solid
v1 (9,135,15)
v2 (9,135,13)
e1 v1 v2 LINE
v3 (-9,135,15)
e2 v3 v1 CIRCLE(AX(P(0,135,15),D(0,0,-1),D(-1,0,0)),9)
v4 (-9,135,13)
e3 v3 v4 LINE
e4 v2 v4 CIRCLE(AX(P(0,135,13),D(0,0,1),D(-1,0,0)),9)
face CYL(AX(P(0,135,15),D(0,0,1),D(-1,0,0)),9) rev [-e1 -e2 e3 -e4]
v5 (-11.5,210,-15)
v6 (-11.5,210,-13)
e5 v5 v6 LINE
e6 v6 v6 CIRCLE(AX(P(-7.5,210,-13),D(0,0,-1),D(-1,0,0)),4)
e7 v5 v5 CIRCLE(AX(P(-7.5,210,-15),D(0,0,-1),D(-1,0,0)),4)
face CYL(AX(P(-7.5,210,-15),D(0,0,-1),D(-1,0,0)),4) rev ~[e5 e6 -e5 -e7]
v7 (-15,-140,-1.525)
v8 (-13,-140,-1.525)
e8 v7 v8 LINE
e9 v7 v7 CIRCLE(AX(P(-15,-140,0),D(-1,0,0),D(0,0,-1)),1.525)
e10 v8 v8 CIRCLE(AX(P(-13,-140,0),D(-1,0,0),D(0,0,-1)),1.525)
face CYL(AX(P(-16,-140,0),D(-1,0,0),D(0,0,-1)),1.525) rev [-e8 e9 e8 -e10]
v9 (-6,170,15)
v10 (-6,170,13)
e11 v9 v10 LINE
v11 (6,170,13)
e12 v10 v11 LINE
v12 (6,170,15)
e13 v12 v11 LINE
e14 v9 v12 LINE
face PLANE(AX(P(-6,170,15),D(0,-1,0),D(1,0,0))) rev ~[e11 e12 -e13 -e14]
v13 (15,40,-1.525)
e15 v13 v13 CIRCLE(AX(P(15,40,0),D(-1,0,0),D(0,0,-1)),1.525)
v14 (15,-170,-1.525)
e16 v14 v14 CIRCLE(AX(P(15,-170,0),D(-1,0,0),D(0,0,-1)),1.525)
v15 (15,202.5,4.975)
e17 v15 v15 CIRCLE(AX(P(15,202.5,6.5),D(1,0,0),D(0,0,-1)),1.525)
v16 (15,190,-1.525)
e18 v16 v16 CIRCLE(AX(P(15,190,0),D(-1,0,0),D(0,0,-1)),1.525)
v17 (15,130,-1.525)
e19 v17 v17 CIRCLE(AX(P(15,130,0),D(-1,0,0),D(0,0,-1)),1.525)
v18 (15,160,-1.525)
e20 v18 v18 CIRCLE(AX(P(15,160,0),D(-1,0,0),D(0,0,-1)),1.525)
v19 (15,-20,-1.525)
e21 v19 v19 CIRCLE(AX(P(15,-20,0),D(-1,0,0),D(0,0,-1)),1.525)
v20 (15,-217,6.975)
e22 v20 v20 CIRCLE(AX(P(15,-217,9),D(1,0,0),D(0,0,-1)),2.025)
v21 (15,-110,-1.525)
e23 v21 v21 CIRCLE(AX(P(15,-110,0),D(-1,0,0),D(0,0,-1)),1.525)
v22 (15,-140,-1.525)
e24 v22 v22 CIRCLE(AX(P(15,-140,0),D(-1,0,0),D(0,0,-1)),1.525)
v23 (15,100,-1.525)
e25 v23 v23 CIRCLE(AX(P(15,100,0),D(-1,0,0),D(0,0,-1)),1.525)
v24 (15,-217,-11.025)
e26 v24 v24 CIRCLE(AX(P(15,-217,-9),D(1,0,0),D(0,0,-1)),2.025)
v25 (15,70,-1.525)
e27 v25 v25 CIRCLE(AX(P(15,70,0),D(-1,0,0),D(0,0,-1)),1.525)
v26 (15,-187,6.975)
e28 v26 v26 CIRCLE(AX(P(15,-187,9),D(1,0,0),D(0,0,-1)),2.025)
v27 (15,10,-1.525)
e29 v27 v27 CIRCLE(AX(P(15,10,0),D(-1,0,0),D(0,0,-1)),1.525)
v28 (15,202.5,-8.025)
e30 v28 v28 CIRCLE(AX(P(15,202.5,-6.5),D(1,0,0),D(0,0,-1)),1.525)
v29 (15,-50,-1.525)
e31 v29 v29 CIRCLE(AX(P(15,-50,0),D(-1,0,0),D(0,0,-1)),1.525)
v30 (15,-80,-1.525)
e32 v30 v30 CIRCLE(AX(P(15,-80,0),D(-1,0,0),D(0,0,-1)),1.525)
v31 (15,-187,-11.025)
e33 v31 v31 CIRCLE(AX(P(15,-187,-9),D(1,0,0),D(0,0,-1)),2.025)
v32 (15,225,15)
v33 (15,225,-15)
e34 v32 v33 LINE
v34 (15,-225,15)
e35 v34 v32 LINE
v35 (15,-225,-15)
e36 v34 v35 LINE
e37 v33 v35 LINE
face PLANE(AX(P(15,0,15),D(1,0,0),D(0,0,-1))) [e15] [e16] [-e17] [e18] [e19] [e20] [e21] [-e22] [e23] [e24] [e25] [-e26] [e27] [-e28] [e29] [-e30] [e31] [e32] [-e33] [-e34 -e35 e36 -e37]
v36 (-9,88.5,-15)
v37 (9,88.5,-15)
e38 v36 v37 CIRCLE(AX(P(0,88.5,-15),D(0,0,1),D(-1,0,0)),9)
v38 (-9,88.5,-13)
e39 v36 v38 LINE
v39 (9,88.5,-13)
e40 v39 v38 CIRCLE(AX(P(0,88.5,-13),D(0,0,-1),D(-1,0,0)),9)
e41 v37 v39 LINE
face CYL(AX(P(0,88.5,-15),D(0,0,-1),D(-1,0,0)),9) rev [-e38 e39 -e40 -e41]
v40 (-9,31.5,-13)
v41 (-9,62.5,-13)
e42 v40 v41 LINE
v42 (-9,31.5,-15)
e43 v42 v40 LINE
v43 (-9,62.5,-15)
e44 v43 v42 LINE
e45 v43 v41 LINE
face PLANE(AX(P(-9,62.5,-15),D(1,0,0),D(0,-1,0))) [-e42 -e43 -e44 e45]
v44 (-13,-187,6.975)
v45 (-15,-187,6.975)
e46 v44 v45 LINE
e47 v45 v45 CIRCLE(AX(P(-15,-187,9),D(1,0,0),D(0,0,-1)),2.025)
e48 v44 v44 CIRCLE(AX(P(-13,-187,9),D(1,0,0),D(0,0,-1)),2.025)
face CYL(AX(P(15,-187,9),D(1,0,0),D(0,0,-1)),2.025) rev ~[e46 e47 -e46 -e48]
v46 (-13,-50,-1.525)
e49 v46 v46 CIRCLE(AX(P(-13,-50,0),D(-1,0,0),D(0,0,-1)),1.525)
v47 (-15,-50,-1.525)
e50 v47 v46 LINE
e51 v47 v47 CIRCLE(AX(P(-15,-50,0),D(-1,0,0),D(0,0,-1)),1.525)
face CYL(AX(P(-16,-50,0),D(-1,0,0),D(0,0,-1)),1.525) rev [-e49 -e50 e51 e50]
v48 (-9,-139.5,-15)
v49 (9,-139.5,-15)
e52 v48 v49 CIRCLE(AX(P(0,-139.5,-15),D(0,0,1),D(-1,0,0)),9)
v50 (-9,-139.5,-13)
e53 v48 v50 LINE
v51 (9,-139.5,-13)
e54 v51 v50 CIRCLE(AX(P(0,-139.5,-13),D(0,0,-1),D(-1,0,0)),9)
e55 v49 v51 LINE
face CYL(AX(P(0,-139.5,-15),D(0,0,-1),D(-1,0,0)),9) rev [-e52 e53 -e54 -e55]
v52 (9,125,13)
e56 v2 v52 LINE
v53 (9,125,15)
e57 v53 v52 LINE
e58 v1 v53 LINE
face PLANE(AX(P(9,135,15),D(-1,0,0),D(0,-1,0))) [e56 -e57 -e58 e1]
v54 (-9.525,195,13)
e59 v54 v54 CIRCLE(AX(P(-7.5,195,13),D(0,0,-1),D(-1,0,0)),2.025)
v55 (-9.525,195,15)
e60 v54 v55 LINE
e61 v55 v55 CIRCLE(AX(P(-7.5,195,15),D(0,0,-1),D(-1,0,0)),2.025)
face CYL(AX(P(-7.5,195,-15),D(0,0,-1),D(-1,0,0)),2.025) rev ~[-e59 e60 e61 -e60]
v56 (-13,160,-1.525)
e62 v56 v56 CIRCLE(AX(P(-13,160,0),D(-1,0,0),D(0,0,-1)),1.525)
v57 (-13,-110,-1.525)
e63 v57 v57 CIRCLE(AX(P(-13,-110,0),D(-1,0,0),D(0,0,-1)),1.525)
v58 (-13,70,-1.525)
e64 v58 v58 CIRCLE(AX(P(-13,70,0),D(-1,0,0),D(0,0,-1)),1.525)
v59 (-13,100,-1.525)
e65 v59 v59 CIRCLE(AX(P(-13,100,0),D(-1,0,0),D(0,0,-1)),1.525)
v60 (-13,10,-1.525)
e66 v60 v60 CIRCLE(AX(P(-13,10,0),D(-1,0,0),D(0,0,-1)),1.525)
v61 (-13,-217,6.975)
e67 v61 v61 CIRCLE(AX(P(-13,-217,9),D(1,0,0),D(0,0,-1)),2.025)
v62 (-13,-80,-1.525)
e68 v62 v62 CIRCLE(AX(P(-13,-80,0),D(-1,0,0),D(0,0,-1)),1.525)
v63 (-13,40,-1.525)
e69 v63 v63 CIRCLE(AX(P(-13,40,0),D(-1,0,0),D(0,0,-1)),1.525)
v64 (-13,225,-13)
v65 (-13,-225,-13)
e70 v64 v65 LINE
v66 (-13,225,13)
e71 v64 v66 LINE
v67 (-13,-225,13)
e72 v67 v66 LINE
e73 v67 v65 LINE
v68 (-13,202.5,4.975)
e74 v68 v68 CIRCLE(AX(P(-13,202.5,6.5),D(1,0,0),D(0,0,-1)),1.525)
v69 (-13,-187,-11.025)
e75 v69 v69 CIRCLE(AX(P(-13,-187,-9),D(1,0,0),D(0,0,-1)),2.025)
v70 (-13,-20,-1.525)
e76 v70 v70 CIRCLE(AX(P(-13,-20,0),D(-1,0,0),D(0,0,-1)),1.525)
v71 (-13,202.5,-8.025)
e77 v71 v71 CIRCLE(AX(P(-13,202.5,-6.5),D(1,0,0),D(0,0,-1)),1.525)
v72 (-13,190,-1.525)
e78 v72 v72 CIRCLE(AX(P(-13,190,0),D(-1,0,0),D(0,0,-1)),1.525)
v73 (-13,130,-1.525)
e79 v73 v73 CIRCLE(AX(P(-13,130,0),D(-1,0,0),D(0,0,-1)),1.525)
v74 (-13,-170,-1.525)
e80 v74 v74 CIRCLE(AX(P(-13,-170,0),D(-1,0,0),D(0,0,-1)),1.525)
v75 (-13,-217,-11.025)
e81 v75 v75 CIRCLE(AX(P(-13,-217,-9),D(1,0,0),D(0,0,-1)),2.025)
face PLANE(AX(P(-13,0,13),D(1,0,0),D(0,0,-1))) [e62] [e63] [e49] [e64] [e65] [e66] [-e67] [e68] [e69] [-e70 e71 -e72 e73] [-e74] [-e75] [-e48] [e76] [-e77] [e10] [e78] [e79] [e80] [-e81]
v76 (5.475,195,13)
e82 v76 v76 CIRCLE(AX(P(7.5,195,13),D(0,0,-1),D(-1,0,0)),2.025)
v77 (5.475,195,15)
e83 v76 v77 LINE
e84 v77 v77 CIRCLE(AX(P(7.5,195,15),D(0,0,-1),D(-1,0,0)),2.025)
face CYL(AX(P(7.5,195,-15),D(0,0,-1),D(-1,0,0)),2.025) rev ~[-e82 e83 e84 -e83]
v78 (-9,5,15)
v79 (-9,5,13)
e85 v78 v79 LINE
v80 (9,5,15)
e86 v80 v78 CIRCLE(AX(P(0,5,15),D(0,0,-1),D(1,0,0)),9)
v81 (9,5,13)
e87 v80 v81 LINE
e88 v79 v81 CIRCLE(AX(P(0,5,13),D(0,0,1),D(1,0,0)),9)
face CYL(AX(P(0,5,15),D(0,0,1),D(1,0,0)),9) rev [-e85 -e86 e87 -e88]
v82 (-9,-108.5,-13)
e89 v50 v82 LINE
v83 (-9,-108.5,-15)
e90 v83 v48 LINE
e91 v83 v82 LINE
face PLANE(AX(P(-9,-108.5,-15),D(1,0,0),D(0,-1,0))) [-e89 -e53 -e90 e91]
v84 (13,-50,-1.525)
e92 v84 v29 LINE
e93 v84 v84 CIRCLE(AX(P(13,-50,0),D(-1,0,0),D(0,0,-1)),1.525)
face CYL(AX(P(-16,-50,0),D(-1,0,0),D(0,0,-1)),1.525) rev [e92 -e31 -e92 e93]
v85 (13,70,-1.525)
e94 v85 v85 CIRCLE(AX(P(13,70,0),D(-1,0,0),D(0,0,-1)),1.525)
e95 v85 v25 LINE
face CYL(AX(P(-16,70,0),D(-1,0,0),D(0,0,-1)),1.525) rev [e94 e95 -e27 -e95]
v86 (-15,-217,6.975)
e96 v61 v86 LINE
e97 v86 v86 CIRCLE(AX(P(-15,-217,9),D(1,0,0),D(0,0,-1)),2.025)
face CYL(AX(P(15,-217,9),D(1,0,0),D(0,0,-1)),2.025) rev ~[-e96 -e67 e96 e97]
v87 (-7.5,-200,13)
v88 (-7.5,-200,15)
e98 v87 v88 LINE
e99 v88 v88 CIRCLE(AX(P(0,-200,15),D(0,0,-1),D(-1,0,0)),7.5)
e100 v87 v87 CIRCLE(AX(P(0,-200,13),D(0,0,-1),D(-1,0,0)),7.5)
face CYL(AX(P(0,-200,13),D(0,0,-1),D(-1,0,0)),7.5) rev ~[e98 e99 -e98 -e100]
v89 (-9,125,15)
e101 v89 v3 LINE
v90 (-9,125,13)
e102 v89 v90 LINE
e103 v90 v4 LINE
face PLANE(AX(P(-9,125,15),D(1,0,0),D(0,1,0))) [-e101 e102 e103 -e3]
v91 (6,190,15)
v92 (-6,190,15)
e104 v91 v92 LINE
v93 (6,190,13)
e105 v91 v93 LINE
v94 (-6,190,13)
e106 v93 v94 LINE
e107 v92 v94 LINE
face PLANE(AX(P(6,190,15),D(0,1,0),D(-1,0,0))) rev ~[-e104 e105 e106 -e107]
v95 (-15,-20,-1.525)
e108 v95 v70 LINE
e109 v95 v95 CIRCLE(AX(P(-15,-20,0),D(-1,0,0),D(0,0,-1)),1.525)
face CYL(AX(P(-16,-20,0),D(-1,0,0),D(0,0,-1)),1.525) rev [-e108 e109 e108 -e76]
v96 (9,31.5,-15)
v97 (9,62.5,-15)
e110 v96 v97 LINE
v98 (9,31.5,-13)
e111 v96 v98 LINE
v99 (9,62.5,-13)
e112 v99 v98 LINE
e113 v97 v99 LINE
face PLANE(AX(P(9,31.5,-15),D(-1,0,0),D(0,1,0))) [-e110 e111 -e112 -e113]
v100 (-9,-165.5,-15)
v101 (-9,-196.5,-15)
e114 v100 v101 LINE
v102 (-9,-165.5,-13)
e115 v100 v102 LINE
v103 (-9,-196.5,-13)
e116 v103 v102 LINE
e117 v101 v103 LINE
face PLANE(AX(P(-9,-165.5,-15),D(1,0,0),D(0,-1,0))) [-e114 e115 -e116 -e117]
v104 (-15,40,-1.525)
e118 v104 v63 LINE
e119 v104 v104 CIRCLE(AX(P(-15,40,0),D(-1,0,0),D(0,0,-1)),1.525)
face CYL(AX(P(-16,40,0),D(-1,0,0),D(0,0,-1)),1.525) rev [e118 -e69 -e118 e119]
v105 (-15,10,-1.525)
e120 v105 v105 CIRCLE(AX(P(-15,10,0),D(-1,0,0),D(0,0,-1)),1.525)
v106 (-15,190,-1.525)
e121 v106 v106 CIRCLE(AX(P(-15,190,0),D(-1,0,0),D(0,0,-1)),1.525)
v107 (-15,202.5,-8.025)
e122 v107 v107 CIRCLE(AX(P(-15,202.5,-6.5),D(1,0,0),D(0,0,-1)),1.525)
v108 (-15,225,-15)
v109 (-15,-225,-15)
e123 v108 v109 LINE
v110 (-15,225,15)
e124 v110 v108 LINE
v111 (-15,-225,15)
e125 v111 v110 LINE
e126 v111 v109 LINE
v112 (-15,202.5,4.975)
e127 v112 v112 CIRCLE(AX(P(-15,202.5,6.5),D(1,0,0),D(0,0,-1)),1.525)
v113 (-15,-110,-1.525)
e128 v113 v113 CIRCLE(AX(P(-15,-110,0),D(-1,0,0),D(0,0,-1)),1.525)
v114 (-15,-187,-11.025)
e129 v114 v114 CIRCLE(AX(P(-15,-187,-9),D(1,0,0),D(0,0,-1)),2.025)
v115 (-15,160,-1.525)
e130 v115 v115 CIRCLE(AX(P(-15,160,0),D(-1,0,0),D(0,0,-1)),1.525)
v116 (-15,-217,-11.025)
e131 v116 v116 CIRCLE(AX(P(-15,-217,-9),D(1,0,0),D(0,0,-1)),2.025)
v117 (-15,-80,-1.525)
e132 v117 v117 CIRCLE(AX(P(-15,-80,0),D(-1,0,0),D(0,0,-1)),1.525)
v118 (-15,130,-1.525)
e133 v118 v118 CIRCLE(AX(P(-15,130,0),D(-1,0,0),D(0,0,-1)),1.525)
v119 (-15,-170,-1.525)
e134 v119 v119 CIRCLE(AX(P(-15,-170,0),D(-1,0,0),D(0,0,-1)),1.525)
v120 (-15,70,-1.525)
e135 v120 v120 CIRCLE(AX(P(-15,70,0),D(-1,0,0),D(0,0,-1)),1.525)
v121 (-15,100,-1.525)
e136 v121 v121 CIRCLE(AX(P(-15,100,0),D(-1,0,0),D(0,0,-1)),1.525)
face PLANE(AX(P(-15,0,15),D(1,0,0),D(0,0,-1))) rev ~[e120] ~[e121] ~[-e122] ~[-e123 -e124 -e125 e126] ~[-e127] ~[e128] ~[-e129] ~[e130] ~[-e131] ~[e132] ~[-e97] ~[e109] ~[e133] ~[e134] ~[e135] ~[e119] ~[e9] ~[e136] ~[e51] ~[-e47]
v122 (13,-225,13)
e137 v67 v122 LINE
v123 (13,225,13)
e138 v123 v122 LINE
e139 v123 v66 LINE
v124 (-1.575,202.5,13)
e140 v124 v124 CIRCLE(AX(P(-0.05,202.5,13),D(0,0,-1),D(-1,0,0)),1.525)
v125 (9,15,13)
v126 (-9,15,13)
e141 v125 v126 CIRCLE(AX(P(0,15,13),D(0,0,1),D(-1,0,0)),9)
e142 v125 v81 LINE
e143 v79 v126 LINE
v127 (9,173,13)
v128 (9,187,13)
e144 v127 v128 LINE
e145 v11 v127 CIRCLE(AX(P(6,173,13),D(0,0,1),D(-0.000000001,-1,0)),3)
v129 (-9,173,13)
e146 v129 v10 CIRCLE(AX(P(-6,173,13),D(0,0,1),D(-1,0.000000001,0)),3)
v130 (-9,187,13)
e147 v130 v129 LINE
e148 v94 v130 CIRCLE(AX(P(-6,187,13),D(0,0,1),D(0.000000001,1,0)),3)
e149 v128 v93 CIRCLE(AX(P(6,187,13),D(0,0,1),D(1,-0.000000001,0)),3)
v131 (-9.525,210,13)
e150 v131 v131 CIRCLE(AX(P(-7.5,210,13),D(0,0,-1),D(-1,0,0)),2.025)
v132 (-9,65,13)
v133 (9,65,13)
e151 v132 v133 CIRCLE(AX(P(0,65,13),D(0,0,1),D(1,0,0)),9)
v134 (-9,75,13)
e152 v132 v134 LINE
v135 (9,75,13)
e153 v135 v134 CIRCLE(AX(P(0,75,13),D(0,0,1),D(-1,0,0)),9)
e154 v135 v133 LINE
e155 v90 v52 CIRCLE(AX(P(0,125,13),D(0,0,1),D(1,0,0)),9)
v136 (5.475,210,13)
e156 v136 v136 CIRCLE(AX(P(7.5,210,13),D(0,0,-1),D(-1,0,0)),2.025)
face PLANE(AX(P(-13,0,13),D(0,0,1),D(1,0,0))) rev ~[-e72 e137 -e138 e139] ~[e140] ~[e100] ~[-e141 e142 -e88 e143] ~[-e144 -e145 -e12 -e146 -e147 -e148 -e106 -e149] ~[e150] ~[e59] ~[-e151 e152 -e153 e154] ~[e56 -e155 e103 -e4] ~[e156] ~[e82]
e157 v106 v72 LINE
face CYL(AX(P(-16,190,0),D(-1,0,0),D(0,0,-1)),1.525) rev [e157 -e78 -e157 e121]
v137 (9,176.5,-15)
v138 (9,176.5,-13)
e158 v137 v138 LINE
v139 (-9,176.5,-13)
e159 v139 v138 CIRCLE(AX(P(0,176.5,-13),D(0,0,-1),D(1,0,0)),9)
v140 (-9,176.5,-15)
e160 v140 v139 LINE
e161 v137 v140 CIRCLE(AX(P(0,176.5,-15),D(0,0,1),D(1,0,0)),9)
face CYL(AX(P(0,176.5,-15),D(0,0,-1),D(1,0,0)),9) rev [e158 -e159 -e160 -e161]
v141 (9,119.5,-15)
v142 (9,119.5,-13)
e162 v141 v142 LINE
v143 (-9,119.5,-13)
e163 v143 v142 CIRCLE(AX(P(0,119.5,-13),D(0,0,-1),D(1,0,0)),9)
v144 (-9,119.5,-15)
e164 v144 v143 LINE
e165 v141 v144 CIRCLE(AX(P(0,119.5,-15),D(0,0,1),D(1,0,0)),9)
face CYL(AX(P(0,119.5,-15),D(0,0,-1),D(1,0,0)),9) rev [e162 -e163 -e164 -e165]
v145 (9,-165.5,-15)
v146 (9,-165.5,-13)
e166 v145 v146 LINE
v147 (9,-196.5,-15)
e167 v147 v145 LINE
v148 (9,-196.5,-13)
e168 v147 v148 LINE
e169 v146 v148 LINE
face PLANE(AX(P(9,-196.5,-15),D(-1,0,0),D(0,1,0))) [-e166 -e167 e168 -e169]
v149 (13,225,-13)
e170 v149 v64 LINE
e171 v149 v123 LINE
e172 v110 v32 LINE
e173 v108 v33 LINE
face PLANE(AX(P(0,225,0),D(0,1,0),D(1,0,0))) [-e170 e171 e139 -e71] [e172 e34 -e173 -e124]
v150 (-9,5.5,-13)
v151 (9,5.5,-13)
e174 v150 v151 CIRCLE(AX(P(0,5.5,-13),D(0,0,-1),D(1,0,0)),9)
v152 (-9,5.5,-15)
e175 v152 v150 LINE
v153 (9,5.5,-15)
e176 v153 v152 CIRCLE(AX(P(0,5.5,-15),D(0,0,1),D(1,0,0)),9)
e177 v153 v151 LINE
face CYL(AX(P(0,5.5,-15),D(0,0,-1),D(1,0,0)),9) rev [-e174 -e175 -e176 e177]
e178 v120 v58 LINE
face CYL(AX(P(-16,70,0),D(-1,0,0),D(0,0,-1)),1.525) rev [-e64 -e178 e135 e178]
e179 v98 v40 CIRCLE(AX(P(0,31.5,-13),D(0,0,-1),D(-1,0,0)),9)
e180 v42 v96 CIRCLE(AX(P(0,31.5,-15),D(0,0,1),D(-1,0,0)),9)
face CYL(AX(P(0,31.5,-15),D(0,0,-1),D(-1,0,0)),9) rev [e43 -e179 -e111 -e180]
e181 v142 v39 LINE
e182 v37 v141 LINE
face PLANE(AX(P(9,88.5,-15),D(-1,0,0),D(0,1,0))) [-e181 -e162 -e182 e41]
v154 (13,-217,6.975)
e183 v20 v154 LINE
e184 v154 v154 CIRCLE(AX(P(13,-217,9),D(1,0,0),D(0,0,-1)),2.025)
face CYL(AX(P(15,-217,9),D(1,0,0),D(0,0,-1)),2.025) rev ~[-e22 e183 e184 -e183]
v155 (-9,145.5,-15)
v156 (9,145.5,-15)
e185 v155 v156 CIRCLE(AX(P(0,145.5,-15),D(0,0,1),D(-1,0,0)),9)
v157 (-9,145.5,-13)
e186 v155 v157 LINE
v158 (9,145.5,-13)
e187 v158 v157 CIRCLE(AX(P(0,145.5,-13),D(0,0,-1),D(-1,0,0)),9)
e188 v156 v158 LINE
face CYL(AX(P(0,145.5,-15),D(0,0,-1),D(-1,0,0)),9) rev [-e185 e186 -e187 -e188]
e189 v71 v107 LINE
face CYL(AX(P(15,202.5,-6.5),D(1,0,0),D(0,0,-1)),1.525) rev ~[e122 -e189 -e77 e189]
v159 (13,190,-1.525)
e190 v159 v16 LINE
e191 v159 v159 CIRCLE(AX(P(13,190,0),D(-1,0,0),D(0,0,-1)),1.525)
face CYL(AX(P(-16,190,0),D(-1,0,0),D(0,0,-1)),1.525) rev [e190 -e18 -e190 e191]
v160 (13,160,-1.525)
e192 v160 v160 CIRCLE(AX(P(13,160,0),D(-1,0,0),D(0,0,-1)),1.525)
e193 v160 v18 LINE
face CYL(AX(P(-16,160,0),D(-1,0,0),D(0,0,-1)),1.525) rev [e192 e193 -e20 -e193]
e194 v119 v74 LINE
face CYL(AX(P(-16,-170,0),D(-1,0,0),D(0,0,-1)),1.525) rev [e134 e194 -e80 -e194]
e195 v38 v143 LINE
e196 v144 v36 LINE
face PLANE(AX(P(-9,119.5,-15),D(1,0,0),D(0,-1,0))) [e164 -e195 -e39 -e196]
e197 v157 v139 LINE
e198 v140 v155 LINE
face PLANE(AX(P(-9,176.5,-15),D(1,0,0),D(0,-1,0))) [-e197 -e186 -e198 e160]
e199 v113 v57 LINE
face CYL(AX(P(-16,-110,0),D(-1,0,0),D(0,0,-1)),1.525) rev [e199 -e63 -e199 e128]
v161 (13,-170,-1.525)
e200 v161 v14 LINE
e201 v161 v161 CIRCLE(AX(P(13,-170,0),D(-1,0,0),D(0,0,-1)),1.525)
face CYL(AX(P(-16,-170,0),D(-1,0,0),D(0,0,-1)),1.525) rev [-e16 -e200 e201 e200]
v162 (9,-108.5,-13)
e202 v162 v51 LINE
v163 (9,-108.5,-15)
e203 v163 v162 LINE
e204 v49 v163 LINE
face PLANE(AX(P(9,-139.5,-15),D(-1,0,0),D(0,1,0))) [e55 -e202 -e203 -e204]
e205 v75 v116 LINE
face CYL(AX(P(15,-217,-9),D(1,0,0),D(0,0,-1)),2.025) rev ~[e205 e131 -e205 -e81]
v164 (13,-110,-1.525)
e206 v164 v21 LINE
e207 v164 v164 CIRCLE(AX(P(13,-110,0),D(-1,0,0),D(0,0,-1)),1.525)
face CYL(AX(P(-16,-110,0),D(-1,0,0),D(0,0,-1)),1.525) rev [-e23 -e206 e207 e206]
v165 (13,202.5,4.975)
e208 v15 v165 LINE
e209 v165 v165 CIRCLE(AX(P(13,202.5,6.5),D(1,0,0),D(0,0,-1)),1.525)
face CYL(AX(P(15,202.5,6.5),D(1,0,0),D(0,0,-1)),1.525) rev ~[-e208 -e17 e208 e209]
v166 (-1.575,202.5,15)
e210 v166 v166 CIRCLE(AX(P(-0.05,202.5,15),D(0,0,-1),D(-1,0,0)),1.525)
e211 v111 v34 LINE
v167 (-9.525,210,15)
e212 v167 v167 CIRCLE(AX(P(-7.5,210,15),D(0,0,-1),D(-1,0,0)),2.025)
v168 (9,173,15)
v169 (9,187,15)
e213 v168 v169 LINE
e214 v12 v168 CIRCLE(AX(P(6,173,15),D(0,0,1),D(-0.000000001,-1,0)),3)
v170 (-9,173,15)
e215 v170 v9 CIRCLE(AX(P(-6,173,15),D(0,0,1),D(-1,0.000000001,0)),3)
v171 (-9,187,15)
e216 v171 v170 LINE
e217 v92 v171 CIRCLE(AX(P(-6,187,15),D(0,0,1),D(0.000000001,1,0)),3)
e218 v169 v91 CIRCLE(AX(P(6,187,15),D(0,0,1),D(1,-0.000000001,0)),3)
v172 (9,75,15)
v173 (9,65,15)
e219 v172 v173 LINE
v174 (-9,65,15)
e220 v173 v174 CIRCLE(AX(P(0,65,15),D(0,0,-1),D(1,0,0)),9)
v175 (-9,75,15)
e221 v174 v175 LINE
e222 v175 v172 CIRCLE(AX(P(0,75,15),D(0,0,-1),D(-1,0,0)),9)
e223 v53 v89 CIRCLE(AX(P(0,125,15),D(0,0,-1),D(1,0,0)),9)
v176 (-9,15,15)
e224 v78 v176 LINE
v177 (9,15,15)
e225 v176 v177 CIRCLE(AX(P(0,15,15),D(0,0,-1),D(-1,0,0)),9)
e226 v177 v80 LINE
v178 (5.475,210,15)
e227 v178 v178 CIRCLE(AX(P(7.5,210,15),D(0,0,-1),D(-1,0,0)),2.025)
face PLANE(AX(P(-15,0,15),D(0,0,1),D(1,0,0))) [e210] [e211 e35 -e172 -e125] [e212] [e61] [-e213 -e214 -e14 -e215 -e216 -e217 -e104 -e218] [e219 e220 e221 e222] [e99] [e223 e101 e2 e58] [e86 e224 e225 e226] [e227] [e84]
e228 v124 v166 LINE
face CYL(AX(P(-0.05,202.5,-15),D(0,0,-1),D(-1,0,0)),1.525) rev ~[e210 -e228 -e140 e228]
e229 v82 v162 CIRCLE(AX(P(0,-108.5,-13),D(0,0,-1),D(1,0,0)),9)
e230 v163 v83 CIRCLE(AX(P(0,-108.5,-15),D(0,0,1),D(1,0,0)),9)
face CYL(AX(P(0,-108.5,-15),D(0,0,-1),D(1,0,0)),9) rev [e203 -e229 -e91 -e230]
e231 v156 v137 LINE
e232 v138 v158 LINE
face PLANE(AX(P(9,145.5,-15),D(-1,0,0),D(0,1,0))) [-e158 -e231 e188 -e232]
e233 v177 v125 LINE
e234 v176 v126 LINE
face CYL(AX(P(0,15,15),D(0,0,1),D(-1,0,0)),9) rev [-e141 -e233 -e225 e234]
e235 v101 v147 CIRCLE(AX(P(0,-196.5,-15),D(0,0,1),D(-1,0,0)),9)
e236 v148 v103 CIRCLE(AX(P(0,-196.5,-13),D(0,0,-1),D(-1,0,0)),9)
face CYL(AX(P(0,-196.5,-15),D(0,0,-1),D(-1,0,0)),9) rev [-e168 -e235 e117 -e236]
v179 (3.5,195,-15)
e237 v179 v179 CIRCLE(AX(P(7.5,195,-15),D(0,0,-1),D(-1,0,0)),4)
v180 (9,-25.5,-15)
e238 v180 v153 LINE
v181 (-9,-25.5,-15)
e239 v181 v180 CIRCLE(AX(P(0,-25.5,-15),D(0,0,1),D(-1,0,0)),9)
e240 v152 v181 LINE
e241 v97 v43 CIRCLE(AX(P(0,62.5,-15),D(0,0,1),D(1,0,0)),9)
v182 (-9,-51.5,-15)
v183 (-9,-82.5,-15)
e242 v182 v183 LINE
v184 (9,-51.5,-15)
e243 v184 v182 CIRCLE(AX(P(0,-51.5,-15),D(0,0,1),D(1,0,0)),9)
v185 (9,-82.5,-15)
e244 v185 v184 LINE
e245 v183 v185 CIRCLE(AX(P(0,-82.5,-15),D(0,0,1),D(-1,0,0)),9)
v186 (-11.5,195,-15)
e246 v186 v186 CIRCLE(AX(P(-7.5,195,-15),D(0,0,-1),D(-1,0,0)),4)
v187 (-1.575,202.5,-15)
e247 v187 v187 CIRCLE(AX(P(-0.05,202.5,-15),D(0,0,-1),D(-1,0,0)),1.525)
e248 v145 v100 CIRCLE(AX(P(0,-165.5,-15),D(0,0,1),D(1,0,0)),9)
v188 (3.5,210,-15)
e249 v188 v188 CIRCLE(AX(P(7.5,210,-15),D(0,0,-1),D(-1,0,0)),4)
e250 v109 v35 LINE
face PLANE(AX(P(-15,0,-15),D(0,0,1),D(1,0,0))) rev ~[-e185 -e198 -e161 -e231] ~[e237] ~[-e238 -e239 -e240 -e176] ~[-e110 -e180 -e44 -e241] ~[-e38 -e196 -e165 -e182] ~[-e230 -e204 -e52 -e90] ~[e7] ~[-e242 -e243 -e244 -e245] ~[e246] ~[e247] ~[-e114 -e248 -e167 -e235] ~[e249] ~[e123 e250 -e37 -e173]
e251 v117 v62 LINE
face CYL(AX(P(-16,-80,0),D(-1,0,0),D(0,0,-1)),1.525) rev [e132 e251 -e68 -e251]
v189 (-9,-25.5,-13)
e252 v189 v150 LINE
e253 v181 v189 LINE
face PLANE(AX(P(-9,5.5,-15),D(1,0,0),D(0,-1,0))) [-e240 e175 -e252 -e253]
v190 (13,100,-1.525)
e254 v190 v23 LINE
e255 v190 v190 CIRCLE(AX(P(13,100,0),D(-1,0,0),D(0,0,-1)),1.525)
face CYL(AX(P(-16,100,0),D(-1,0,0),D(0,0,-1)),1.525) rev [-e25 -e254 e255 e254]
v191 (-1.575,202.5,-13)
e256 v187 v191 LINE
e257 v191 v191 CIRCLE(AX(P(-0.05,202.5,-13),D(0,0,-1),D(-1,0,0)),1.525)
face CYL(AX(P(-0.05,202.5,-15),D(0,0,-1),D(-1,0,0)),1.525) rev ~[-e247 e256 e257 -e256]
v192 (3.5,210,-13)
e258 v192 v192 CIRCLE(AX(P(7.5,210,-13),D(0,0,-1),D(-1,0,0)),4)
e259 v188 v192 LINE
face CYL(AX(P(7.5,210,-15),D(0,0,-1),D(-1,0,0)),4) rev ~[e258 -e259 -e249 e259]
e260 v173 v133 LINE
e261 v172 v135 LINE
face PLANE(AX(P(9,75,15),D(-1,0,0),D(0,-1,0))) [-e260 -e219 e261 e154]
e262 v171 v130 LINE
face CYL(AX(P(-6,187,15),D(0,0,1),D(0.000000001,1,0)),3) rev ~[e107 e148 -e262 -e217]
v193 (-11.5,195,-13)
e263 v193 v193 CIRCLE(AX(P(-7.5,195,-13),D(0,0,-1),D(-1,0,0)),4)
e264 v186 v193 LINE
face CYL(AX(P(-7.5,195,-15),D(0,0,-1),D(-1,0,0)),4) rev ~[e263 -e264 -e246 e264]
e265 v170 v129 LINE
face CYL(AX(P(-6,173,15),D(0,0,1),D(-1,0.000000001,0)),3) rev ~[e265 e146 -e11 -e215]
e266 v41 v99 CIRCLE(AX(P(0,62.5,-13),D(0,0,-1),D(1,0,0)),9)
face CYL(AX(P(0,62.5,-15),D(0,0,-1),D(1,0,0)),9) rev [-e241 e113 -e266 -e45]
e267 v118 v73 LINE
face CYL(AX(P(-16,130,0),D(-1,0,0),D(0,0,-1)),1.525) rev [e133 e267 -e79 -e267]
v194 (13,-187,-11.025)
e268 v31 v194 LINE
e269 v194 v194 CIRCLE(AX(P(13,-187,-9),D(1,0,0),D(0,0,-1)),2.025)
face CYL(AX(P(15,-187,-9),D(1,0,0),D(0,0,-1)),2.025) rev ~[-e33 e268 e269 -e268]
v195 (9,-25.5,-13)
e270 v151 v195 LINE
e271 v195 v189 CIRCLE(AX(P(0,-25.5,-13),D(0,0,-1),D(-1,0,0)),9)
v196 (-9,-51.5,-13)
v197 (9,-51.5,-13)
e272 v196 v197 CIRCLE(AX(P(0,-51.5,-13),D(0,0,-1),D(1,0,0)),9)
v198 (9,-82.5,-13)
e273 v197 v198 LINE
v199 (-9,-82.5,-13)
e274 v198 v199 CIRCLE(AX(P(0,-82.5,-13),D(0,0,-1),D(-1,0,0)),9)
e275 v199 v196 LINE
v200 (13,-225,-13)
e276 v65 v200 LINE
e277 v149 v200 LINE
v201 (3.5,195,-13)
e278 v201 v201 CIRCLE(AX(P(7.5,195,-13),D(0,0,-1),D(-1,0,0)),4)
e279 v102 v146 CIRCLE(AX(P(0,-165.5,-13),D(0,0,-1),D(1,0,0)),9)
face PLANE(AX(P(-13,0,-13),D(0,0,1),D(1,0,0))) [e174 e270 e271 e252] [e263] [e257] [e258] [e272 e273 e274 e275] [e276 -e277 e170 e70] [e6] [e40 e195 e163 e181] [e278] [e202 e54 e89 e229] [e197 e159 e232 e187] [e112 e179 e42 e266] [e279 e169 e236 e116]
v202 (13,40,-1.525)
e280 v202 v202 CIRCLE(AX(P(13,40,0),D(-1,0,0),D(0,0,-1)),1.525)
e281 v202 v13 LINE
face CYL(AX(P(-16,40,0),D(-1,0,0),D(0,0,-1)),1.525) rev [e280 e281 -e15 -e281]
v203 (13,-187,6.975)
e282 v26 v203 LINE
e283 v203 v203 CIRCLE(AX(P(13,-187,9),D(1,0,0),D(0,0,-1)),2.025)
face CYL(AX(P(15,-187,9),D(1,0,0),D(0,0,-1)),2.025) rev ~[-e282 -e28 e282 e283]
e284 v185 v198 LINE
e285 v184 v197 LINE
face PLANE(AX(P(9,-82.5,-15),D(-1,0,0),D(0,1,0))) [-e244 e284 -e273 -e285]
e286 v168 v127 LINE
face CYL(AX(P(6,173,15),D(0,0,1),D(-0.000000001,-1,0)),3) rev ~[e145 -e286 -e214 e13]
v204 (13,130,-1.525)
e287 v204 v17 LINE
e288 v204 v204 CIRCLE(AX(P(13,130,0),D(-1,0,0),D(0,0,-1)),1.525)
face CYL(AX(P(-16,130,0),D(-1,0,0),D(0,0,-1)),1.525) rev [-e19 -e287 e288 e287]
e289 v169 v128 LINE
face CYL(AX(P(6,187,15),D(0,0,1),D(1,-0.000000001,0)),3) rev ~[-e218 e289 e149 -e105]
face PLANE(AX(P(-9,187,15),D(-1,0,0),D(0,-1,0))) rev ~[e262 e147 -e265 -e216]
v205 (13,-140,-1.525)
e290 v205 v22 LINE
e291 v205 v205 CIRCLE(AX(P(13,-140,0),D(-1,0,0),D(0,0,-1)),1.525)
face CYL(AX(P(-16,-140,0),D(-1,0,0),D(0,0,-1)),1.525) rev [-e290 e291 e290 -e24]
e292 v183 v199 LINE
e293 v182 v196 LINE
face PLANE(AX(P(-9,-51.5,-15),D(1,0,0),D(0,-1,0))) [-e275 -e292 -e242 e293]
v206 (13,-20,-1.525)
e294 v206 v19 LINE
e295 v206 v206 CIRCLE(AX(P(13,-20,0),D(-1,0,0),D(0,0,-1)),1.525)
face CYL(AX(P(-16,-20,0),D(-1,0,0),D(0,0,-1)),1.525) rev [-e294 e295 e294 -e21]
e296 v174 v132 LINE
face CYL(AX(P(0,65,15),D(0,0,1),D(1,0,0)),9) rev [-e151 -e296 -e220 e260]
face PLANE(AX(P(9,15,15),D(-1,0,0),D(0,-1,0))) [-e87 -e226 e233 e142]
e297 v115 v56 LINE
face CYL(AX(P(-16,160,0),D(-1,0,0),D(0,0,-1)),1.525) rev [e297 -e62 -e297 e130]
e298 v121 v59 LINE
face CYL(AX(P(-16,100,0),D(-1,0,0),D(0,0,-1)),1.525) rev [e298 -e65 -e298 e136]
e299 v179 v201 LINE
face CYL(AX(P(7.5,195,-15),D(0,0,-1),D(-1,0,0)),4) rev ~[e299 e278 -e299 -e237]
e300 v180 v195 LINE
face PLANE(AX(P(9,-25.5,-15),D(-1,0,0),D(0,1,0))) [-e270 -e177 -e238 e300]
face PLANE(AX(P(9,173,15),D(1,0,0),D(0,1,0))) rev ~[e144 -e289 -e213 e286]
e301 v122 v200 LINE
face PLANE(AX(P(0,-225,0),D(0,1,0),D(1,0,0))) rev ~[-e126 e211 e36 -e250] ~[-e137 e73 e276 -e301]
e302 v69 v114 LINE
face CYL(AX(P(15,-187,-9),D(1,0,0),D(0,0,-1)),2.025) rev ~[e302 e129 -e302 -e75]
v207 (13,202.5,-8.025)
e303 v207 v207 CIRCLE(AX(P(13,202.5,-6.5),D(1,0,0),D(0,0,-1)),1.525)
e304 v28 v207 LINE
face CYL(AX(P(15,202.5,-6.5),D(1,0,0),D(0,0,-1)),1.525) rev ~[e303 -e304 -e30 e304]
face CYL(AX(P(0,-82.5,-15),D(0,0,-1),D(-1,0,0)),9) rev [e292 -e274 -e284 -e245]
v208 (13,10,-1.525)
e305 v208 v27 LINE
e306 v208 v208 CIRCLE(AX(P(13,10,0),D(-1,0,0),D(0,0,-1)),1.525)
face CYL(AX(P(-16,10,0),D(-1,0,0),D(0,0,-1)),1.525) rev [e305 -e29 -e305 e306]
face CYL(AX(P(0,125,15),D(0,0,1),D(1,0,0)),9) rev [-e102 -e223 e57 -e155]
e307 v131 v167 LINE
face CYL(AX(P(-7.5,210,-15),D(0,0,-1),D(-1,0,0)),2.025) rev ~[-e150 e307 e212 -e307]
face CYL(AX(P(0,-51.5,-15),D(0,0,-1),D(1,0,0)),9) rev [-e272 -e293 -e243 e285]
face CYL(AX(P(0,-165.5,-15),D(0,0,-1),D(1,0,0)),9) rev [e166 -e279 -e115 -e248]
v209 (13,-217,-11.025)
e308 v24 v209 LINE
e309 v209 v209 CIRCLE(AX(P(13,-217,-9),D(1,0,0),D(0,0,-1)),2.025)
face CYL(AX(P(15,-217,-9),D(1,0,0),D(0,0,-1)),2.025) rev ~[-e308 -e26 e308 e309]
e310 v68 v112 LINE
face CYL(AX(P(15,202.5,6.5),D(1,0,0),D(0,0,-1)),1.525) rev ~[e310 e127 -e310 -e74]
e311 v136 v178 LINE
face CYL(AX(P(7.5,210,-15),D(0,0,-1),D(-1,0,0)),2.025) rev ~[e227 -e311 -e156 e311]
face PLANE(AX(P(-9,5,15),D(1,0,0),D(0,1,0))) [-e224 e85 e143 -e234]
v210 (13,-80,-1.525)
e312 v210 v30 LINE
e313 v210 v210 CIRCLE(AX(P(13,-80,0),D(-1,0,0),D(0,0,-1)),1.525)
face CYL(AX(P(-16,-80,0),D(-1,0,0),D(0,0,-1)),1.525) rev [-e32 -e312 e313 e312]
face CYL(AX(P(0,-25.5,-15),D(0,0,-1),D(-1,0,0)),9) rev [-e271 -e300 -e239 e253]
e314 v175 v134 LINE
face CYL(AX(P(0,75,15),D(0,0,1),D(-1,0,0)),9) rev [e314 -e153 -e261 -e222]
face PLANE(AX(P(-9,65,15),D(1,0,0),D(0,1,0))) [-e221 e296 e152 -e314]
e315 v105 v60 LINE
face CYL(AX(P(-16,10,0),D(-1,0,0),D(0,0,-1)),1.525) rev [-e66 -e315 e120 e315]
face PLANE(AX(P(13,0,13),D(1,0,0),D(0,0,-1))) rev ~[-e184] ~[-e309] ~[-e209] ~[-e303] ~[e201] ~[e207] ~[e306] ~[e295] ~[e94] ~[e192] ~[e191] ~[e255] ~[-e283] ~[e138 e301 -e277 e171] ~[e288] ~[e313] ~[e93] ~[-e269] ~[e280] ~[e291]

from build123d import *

# Parameters (mm, degrees)
SKETCH_2_W                = 30
SKETCH_2_H                = 30
EXTRUDE_1_DEPTH           = 225
SKETCH_4_W                = 26
SKETCH_4_H                = 26
CUT_EXTRUDE_1_DEPTH       = 226
CUT_EXTRUDE_1_DEPTH_BACK  = 226
SKETCH_5_R                = 2.025
CUT_EXTRUDE_2_DEPTH       = 1
CUT_EXTRUDE_2_DEPTH_BACK  = 31
CUT_EXTRUDE_3_DEPTH       = 10
CUT_EXTRUDE_START         = -31
SKETCH_8_R                = 1.525
CUT_EXTRUDE_4_DEPTH       = 32
PATTERN_LINEAR_2_COUNT    = 13
PATTERN_LINEAR_2_PITCH    = 30
PATTERN_LINEAR_3_COUNT    = 7
PATTERN_LINEAR_3_PITCH    = 57
SKETCH_9_R                = 1.525
CUT_EXTRUDE_5_DEPTH       = 1
CUT_EXTRUDE_5_DEPTH_BACK  = 31
SKETCH_10_R               = 2.025
CUT_EXTRUDE_6_DEPTH       = 1
CUT_EXTRUDE_6_DEPTH_BACK  = 31
SKETCH_6_R                = 4
CUT_EXTRUDE_7_DEPTH       = 10
CUT_EXTRUDE_8_DEPTH       = 10
CUT_EXTRUDE_9_DEPTH       = 10
SKETCH_13_R               = 1.525
CUT_EXTRUDE_10_DEPTH      = 1
CUT_EXTRUDE_10_DEPTH_BACK = 31
SKETCH_14_R               = 7.5
CUT_EXTRUDE_11_DEPTH      = 2


with BuildPart() as part:
    # 草图2 → 凸台-拉伸1 (new body, symmetric)
    with BuildSketch(Plane(origin=(0, 0, 0), x_dir=(1, 0, 0), z_dir=(0, 1, 0))):
        Rectangle(SKETCH_2_W, SKETCH_2_H)
    extrude(amount=EXTRUDE_1_DEPTH, both=True)

    # 草图4 → 切除-拉伸1 (cut, two sides)
    with BuildSketch(Plane(origin=(0, 0, 0), x_dir=(1, 0, 0), z_dir=(0, 1, 0))) as cut_extrude_1_sk:
        Rectangle(SKETCH_4_W, SKETCH_4_H)
    extrude(amount=CUT_EXTRUDE_1_DEPTH, mode=Mode.SUBTRACT)
    extrude(cut_extrude_1_sk.sketch, amount=-CUT_EXTRUDE_1_DEPTH_BACK, mode=Mode.SUBTRACT)

    # 草图5 → 切除-拉伸2 (cut, two sides)
    with BuildSketch(Plane(origin=(0, 0, -15), x_dir=(-1, 0, 0), z_dir=(0, 0, -1))) as cut_extrude_2_sk:
        with Locations((-7.5, 210)):
            Circle(SKETCH_5_R)
        with Locations((7.5, 210)):
            Circle(SKETCH_5_R)
        with Locations((-7.5, 195)):
            Circle(SKETCH_5_R)
        with Locations((7.5, 195)):
            Circle(SKETCH_5_R)
    extrude(amount=CUT_EXTRUDE_2_DEPTH, mode=Mode.SUBTRACT)
    extrude(cut_extrude_2_sk.sketch, amount=-CUT_EXTRUDE_2_DEPTH_BACK, mode=Mode.SUBTRACT)

    # 草图7 → 切除-拉伸3 (cut)
    with BuildSketch(Plane(origin=(0, 0, -15), x_dir=(-1, 0, 0), z_dir=(0, 0, -1))):
        with BuildLine():
            Line((-9, -196.5), (-9, -165.5))
            ThreePointArc((-9, -165.5), (0, -156.5), (9, -165.5))
            Line((9, -165.5), (9, -196.5))
            ThreePointArc((9, -196.5), (0, -205.5), (-9, -196.5))
        make_face()
    cut_extrude_3 = extrude(amount=-CUT_EXTRUDE_3_DEPTH, mode=Mode.SUBTRACT)

    # 草图8 → 切除-拉伸4 (cut)
    with BuildSketch(Plane(origin=(15, 0, 0), x_dir=(0, 0, -1), z_dir=(1, 0, 0)).offset(CUT_EXTRUDE_START)):
        with Locations((0, -170.000000001)):
            Circle(SKETCH_8_R)
    cut_extrude_4 = extrude(amount=CUT_EXTRUDE_4_DEPTH, mode=Mode.SUBTRACT)

    # 阵列(线性)2: 切除-拉伸4 ×13
    with Locations(*[(0, i * PATTERN_LINEAR_2_PITCH, 0) for i in range(1, PATTERN_LINEAR_2_COUNT)]):
        add(cut_extrude_4, mode=Mode.SUBTRACT)

    # 阵列(线性)3: 切除-拉伸3 ×7
    with Locations(*[(0, i * PATTERN_LINEAR_3_PITCH, 0) for i in range(1, PATTERN_LINEAR_3_COUNT)]):
        add(cut_extrude_3, mode=Mode.SUBTRACT)

    # 草图9 → 切除-拉伸5 (cut, two sides)
    with BuildSketch(Plane(origin=(15, 0, 0), x_dir=(0, 0, -1), z_dir=(1, 0, 0))) as cut_extrude_5_sk:
        with Locations((6.5, 202.5)):
            Circle(SKETCH_9_R)
        with Locations((-6.5, 202.5)):
            Circle(SKETCH_9_R)
    extrude(amount=CUT_EXTRUDE_5_DEPTH, mode=Mode.SUBTRACT)
    extrude(cut_extrude_5_sk.sketch, amount=-CUT_EXTRUDE_5_DEPTH_BACK, mode=Mode.SUBTRACT)

    # 草图10 → 切除-拉伸6 (cut, two sides)
    with BuildSketch(Plane(origin=(15, 0, 0), x_dir=(0, 0, -1), z_dir=(1, 0, 0))) as cut_extrude_6_sk:
        with Locations((9, -187)):
            Circle(SKETCH_10_R)
        with Locations((-9, -187)):
            Circle(SKETCH_10_R)
        with Locations((-9, -217)):
            Circle(SKETCH_10_R)
        with Locations((9, -217)):
            Circle(SKETCH_10_R)
    extrude(amount=CUT_EXTRUDE_6_DEPTH, mode=Mode.SUBTRACT)
    extrude(cut_extrude_6_sk.sketch, amount=-CUT_EXTRUDE_6_DEPTH_BACK, mode=Mode.SUBTRACT)

    # 草图6 → 切除-拉伸7 (cut)
    with BuildSketch(Plane(origin=(0, 0, -15), x_dir=(-1, 0, 0), z_dir=(0, 0, -1))):
        with Locations((-7.5, 210)):
            Circle(SKETCH_6_R)
        with Locations((-7.5, 195)):
            Circle(SKETCH_6_R)
        with Locations((7.5, 195)):
            Circle(SKETCH_6_R)
        with Locations((7.5, 210)):
            Circle(SKETCH_6_R)
    extrude(amount=-CUT_EXTRUDE_7_DEPTH, mode=Mode.SUBTRACT)

    # 草图11 → 切除-拉伸8 (cut)
    with BuildSketch(Plane.XY.offset(15)):
        with BuildLine():
            Line((-9, 125), (-9, 135))
            ThreePointArc((-9, 135), (0, 144), (9, 135))
            Line((9, 135), (9, 125))
            ThreePointArc((9, 125), (0, 116), (-9, 125))
        make_face()
        with BuildLine():
            Line((-9, 65), (-9, 75))
            ThreePointArc((-9, 75), (0, 84), (9, 75))
            Line((9, 75), (9, 65))
            ThreePointArc((9, 65), (0, 56), (-9, 65))
        make_face()
        with BuildLine():
            Line((-9, 5), (-9, 15))
            ThreePointArc((-9, 15), (0, 24), (9, 15))
            Line((9, 15), (9, 5))
            ThreePointArc((9, 5), (0, -4), (-9, 5))
        make_face()
    extrude(amount=-CUT_EXTRUDE_8_DEPTH, mode=Mode.SUBTRACT)

    # 草图12 → 切除-拉伸9 (cut)
    with BuildSketch(Plane.XY.offset(15)):
        with BuildLine():
            Line((-6, 170), (6, 170))
            ThreePointArc((6, 170), (8.121320344, 170.878679656), (9, 173))
            Line((9, 173), (9, 187))
            ThreePointArc((9, 187), (8.121320344, 189.121320344), (6, 190))
            Line((6, 190), (-6, 190))
            ThreePointArc((-6, 190), (-8.121320344, 189.121320344), (-9, 187))
            Line((-9, 187), (-9, 173))
            ThreePointArc((-9, 173), (-8.121320344, 170.878679656), (-6, 170))
        make_face()
    extrude(amount=-CUT_EXTRUDE_9_DEPTH, mode=Mode.SUBTRACT)

    # 草图13 → 切除-拉伸10 (cut, two sides)
    with BuildSketch(Plane(origin=(0, 0, -15), x_dir=(-1, 0, 0), z_dir=(0, 0, -1))) as cut_extrude_10_sk:
        with Locations((0.05, 202.5)):
            Circle(SKETCH_13_R)
    extrude(amount=CUT_EXTRUDE_10_DEPTH, mode=Mode.SUBTRACT)
    extrude(cut_extrude_10_sk.sketch, amount=-CUT_EXTRUDE_10_DEPTH_BACK, mode=Mode.SUBTRACT)

    # 草图14 → 切除-拉伸11 (cut)
    with BuildSketch(Plane(origin=(0, 0, 13), x_dir=(-1, 0, 0), z_dir=(0, 0, -1))):
        with Locations((0, -200)):
            Circle(SKETCH_14_R)
    extrude(amount=-CUT_EXTRUDE_11_DEPTH, mode=Mode.SUBTRACT)


solid = part.part
